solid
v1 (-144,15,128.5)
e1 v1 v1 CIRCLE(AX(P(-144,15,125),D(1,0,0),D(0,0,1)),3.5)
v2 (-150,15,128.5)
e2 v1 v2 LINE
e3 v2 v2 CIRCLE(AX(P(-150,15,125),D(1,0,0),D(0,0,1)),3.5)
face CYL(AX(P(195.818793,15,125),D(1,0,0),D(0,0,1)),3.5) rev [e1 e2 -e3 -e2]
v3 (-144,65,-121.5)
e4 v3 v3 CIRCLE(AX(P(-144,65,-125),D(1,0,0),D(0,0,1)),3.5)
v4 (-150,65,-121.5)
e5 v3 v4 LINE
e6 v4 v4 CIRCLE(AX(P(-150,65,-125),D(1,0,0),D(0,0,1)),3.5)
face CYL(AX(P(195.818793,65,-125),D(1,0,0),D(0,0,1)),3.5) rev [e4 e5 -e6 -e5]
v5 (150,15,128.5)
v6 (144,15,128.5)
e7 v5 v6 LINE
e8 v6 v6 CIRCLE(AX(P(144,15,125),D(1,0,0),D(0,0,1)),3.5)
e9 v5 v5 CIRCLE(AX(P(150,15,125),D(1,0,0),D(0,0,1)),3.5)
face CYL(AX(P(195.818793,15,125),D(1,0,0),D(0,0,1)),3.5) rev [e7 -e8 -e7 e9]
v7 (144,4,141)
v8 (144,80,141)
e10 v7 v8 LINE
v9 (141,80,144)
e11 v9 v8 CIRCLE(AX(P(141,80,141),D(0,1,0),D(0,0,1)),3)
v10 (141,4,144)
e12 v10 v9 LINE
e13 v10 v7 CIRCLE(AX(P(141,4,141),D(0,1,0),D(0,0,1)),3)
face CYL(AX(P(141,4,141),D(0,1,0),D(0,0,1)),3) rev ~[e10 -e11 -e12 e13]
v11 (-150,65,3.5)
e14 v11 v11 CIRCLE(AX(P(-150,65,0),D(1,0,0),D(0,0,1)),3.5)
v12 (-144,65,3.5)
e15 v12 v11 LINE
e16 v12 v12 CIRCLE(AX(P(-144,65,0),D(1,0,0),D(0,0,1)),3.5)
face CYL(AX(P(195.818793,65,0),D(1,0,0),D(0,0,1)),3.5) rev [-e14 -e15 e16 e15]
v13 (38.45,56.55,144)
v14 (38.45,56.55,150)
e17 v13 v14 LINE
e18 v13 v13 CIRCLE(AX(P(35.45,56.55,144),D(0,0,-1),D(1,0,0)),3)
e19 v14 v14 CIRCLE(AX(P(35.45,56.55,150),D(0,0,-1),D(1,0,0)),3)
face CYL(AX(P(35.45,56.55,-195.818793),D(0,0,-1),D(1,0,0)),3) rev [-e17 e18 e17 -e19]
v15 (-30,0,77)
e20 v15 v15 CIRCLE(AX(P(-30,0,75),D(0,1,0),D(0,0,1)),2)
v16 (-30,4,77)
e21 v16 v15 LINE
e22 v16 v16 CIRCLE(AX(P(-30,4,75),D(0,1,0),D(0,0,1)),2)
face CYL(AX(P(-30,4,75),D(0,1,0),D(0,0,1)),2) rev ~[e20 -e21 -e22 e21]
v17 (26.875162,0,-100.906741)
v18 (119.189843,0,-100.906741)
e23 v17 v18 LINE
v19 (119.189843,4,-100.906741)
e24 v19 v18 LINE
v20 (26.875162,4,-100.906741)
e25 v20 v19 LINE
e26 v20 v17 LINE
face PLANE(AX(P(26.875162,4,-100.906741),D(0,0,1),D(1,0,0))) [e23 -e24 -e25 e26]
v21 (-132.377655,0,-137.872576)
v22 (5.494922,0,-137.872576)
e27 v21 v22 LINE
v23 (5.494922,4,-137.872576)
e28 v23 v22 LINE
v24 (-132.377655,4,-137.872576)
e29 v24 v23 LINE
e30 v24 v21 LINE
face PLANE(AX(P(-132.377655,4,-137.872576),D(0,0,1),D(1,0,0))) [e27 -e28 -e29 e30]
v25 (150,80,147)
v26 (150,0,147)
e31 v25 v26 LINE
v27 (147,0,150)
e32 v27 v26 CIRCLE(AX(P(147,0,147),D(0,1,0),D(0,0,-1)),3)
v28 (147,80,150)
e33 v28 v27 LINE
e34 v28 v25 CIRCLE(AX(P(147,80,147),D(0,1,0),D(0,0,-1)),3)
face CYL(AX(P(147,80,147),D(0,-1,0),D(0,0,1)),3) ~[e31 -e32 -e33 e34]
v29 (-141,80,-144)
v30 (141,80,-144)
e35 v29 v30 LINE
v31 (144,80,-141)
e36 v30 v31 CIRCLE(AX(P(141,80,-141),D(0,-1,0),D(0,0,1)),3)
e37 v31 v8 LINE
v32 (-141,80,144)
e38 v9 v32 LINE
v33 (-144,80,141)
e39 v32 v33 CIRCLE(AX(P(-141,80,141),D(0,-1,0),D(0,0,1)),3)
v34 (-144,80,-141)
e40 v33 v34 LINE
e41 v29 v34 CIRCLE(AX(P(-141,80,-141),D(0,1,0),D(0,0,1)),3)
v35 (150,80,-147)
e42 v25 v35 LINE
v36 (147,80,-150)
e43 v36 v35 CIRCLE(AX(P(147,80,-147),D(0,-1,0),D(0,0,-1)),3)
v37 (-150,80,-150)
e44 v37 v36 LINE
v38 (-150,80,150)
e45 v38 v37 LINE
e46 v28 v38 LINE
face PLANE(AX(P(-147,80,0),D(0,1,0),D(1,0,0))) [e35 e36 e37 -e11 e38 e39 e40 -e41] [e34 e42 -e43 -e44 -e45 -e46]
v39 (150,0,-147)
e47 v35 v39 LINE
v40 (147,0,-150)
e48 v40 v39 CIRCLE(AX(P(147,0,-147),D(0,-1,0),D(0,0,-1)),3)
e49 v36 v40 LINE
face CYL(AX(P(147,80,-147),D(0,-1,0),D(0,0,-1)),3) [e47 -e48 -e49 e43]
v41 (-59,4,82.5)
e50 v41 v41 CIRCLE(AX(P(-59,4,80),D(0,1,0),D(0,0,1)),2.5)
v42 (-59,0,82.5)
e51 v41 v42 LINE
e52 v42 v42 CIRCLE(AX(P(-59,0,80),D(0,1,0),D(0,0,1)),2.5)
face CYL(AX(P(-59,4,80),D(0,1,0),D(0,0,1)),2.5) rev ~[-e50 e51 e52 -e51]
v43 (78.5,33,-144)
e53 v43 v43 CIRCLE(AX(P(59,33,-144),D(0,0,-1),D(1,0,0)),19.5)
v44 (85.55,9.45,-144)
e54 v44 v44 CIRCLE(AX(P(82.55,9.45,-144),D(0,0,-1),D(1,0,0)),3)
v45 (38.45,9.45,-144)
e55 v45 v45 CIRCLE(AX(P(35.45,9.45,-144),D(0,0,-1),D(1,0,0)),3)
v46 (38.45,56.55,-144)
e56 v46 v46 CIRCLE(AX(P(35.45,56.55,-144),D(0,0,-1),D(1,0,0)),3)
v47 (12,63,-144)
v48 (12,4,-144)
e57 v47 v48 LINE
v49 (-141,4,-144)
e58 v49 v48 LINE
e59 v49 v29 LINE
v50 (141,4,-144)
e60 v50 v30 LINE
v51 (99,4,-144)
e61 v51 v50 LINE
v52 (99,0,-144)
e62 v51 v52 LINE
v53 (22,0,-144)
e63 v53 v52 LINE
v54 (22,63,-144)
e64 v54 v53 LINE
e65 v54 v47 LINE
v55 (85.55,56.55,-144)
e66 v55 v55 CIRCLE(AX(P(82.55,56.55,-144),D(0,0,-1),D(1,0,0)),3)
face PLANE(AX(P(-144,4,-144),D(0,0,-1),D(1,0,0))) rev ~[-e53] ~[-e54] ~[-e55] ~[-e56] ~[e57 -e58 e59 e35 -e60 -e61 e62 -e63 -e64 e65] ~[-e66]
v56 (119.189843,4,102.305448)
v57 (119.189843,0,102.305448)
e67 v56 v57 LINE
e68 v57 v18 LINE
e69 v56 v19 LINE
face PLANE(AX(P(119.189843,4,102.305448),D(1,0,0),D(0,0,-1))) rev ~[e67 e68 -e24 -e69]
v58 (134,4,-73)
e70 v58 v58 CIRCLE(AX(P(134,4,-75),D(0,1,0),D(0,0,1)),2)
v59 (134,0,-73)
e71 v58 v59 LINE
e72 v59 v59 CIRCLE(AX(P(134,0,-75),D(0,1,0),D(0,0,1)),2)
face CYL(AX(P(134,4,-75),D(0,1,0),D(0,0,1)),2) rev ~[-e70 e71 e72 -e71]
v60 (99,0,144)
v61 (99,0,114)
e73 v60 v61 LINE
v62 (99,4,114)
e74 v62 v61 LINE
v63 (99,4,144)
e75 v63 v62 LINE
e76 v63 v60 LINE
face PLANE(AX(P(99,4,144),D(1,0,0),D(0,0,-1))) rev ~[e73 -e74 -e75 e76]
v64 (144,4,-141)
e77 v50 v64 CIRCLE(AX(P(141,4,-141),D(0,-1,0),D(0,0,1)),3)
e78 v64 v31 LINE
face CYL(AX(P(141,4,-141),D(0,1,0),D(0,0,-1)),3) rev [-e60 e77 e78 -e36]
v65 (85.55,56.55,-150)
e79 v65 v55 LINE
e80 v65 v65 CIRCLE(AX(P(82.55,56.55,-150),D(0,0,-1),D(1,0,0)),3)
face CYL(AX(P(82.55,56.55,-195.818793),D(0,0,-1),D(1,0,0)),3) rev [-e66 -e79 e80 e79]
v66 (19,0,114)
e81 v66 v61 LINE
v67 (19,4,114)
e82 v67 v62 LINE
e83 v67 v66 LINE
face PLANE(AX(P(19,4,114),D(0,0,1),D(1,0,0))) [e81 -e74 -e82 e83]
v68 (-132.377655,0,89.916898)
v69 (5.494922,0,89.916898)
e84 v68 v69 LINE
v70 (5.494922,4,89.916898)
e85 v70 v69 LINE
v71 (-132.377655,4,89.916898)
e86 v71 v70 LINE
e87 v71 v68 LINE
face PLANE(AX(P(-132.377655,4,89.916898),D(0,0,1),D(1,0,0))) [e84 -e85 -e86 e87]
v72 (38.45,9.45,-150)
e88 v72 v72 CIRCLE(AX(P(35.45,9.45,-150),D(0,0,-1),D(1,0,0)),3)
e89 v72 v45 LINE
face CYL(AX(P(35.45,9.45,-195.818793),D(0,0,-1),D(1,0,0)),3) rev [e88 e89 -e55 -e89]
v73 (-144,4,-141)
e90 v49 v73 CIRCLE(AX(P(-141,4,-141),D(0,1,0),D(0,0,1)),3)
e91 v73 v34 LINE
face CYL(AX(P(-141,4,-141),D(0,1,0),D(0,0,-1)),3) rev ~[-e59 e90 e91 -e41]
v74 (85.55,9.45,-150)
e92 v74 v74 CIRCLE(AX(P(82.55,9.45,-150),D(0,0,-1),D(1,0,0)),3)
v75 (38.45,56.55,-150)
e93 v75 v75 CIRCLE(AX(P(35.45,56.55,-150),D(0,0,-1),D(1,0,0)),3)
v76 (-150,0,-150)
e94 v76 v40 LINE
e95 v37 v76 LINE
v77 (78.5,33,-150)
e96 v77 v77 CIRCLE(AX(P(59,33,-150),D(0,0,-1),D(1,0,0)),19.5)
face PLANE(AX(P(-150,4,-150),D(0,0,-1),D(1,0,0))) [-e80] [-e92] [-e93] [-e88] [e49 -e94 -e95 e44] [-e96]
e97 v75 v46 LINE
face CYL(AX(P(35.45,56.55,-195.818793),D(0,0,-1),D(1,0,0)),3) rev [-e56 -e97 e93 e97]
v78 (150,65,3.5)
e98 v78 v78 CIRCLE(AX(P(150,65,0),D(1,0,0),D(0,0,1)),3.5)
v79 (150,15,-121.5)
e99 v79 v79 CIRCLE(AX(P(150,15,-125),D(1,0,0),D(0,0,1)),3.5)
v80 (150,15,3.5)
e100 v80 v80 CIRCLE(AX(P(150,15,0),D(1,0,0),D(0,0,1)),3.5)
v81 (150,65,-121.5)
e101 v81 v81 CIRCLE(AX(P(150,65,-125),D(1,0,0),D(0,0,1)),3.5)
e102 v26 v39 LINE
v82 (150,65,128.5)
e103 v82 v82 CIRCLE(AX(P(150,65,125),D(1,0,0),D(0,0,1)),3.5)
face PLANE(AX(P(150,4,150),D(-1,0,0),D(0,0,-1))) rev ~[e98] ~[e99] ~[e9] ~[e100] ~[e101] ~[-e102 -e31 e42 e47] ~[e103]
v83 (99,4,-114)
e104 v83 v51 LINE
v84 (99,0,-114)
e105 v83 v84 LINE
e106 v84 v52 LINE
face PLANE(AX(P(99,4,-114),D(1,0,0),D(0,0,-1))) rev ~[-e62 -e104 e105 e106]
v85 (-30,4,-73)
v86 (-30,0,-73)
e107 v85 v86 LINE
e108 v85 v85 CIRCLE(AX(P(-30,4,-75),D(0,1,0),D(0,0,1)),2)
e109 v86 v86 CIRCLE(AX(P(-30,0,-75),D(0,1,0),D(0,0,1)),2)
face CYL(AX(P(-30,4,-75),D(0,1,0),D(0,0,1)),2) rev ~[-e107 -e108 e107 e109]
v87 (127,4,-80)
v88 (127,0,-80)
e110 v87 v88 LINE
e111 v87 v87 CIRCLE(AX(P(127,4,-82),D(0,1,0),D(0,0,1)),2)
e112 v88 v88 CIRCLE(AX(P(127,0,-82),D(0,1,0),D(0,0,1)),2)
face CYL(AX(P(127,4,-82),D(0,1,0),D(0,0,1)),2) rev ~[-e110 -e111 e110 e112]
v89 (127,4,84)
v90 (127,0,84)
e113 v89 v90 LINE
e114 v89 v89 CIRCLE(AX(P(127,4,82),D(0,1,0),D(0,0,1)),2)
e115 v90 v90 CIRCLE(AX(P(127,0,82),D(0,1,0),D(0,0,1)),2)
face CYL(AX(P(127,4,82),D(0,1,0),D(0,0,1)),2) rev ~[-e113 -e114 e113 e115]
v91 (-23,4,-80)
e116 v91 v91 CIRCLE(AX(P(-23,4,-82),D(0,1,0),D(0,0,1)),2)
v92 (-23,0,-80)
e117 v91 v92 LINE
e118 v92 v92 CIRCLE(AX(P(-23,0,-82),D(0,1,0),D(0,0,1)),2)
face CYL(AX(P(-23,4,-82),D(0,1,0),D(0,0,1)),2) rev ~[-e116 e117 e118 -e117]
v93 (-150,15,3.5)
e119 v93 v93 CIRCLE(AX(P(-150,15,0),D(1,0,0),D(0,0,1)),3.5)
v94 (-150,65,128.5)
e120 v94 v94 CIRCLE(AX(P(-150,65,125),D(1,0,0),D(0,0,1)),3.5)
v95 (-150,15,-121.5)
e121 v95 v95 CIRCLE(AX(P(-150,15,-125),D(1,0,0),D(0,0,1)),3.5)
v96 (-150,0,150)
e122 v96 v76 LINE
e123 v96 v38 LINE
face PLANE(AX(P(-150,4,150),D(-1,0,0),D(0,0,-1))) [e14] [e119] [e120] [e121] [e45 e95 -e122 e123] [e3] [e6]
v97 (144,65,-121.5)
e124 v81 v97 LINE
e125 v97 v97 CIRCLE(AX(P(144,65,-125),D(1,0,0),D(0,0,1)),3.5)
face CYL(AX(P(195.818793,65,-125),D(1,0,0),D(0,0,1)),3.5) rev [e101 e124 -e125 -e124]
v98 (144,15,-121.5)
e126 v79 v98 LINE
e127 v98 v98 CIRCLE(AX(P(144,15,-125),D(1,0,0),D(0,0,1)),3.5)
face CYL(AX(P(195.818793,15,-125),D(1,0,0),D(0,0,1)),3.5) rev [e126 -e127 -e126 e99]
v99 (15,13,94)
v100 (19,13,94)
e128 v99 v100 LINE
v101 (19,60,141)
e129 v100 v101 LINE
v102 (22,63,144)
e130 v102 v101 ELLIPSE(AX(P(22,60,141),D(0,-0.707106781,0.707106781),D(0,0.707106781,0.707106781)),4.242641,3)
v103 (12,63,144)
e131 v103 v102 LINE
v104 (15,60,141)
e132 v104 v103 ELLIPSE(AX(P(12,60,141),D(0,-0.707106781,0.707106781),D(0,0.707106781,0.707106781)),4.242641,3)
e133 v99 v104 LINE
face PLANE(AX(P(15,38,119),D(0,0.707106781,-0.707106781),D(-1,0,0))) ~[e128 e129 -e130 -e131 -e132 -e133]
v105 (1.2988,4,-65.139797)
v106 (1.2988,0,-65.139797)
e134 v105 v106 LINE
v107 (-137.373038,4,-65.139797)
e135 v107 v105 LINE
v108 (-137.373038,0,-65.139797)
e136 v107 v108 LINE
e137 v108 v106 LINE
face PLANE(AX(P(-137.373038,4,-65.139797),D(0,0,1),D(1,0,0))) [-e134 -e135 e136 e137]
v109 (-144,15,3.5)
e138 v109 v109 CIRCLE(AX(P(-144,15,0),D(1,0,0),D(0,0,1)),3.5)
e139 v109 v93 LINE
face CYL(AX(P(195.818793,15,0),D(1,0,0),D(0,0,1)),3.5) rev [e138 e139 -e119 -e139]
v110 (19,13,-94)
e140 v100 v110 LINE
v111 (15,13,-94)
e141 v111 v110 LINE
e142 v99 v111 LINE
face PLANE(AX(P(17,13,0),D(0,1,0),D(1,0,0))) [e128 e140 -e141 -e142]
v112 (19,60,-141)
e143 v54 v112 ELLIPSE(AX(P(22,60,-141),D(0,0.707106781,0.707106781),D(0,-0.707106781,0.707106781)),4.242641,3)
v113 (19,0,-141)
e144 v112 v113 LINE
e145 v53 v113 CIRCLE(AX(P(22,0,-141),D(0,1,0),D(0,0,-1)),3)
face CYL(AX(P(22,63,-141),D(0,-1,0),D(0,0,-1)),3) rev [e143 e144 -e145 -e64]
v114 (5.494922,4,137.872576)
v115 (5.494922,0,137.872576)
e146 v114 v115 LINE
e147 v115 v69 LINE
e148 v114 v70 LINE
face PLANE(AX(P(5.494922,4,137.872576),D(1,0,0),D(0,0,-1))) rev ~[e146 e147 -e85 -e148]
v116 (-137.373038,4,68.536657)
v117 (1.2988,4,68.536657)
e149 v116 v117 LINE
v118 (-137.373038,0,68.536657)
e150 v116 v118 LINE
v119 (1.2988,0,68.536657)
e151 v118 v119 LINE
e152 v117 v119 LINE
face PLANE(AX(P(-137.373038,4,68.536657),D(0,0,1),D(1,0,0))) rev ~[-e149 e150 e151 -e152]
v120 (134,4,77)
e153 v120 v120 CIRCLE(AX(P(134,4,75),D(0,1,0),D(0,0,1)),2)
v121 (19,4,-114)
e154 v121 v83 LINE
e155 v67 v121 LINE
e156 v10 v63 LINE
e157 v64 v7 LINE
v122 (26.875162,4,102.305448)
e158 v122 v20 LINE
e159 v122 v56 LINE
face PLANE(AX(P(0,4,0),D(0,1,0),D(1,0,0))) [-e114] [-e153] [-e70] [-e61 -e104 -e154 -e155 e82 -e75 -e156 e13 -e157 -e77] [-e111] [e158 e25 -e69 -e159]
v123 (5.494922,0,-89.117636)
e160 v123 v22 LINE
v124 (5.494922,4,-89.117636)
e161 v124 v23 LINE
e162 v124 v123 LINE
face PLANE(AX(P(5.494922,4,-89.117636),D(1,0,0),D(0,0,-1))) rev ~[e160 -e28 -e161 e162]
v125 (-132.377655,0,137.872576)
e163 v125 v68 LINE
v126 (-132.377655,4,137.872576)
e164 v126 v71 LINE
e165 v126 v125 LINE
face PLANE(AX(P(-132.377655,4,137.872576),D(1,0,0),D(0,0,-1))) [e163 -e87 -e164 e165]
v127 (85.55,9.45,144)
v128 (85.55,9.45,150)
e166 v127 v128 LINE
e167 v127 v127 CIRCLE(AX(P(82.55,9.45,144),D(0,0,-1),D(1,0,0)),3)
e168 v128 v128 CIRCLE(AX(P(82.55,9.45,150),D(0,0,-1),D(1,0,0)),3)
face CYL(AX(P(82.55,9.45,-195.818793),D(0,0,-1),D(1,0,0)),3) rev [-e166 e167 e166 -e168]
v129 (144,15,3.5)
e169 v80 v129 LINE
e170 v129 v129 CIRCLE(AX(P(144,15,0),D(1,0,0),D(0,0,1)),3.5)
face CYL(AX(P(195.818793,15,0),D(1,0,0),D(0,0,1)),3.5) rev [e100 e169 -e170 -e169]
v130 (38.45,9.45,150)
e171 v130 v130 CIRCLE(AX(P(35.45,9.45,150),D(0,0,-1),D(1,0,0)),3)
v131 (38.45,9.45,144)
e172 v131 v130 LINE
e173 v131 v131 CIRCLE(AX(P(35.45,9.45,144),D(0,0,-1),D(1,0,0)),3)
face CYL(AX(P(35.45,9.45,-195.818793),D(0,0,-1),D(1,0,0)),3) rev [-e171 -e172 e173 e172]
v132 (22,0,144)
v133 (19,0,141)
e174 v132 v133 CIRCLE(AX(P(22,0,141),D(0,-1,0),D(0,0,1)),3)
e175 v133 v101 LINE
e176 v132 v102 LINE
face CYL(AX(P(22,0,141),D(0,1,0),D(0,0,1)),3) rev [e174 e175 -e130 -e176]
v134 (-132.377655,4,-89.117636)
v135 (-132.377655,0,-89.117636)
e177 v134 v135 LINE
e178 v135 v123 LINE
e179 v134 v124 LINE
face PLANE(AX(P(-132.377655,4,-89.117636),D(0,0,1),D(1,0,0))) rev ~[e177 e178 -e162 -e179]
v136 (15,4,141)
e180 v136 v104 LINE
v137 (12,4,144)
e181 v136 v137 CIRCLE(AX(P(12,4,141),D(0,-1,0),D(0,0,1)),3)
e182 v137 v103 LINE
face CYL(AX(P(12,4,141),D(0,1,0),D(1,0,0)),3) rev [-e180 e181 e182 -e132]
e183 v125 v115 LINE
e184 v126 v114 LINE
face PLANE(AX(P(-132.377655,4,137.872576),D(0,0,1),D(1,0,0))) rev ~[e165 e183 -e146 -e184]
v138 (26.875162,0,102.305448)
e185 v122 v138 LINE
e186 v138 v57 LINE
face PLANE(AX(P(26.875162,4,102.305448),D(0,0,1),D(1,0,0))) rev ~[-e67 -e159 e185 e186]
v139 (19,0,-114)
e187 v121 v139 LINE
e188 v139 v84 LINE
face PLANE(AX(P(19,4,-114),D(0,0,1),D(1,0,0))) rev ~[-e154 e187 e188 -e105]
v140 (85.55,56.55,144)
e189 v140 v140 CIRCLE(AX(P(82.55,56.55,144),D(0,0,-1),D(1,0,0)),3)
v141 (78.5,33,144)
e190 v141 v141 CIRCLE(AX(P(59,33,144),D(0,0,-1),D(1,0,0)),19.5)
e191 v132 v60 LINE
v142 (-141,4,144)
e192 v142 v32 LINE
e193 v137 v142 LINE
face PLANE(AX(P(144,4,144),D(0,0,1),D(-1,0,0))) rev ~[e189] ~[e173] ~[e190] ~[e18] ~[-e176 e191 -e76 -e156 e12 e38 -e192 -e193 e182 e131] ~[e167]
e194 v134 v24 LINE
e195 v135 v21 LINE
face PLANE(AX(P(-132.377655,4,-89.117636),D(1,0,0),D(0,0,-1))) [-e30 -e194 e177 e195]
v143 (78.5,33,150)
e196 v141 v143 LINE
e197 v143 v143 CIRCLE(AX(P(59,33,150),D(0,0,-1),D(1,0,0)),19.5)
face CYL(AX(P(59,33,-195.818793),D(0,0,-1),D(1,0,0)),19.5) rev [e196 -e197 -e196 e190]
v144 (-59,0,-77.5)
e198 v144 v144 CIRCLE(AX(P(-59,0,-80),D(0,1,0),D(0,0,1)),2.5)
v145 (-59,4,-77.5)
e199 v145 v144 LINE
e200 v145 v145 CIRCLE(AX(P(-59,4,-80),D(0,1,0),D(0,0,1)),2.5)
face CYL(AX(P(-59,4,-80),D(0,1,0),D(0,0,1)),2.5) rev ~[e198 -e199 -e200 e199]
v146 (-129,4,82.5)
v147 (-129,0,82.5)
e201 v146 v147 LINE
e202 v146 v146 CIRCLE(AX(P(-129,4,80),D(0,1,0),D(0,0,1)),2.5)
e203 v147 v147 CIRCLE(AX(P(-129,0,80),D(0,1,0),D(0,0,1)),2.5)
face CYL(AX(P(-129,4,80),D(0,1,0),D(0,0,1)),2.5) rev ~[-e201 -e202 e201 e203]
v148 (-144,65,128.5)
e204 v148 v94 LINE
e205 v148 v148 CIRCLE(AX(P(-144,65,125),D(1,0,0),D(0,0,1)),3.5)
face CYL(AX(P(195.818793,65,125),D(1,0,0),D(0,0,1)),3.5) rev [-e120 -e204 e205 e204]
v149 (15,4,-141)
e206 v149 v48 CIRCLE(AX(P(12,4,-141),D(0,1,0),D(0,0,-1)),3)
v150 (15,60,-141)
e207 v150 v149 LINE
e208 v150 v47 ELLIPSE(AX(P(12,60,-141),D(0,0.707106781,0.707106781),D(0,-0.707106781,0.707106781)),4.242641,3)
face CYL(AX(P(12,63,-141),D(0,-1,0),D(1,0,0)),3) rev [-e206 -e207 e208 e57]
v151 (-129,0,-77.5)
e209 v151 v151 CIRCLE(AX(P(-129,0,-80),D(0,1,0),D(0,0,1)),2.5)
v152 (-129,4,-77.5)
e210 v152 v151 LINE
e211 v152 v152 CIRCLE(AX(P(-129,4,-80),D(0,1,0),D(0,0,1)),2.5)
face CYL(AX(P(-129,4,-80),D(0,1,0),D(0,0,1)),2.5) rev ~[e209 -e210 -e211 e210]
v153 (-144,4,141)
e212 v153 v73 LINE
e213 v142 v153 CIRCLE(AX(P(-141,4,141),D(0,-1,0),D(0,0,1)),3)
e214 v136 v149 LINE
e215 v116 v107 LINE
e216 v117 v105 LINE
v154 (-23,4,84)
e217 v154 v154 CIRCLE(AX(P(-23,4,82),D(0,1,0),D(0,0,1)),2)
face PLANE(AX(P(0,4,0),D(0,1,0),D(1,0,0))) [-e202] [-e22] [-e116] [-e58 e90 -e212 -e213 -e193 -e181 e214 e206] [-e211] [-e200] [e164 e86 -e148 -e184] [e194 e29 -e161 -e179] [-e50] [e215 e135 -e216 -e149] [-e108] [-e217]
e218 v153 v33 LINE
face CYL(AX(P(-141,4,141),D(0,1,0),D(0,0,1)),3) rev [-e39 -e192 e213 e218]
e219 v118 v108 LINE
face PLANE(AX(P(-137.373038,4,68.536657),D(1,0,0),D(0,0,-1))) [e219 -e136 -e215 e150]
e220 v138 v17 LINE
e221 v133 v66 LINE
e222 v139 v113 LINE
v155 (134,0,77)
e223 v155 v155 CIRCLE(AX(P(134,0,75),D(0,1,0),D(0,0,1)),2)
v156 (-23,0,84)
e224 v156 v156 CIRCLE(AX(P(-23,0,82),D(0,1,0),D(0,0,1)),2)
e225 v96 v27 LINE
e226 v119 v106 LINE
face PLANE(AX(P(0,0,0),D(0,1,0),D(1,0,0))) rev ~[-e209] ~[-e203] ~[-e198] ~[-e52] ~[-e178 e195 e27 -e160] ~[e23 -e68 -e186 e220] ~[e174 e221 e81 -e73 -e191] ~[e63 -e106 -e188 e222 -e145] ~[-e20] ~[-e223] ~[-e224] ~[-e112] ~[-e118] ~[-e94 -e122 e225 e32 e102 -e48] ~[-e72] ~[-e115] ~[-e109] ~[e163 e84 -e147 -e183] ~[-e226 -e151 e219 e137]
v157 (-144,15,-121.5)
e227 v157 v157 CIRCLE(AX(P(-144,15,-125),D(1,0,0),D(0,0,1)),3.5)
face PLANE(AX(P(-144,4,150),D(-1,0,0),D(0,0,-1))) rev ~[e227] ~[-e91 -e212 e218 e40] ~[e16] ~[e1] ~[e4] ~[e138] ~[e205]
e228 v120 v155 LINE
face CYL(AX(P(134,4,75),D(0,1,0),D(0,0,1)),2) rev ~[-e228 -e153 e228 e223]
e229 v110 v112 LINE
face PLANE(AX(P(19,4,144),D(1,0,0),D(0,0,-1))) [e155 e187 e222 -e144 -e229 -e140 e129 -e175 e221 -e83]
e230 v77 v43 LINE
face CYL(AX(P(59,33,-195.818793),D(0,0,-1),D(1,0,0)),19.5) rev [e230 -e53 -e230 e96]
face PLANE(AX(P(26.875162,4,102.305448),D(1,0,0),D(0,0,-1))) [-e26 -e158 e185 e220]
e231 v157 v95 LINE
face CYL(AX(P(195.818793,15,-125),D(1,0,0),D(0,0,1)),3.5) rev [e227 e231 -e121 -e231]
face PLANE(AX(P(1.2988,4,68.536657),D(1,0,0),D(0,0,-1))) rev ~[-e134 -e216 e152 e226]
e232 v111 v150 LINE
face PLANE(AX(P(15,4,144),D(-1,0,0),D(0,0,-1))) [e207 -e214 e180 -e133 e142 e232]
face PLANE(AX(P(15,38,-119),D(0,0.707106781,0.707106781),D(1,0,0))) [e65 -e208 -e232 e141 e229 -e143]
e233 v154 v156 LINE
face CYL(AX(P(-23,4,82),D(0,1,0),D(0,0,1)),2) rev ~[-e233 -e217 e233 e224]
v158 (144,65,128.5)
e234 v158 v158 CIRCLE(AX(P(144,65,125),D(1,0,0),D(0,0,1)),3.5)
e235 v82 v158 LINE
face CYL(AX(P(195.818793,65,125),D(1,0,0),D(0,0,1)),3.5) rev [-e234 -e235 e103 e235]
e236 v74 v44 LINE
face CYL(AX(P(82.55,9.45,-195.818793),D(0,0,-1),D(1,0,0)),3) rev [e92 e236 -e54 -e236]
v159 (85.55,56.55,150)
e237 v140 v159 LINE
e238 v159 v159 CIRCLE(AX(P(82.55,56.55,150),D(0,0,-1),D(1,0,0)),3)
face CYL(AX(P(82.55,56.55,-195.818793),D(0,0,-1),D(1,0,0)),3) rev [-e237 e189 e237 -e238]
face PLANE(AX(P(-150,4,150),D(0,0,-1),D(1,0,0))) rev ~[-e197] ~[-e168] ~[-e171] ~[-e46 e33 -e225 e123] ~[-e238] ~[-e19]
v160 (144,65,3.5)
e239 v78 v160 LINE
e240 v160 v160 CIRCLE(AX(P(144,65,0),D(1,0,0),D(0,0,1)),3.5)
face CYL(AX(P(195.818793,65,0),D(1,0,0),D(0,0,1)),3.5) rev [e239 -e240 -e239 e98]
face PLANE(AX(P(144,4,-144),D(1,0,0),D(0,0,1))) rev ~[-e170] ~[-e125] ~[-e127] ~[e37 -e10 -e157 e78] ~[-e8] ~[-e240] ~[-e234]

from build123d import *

# Parameters (mm, degrees)
SKETCH_1_W                = 300
SKETCH_1_H                = 300
EXTRUDE_1_DEPTH           = 4
EXTRUDE_2_DEPTH           = 76
FILLET_1_R                = 3
CUT_EXTRUDE_1_DEPTH       = 345.818792991
CUT_EXTRUDE_1_DEPTH_BACK  = 345.818792991
SKETCH_3_R                = 3
SKETCH_3_R_2              = 19.5
SKETCH_4_W                = 6
SKETCH_4_H                = 300
EXTRUDE_3_DEPTH           = 76
SKETCH_7_R                = 2
CUT_EXTRUDE_3_DEPTH       = 10
SKETCH_14_W               = 80
SKETCH_14_H               = 30
CUT_EXTRUDE_9_DEPTH       = 20
CUT_EXTRUDE_10_DEPTH      = 345.818792991
CUT_EXTRUDE_10_DEPTH_BACK = 345.818792991
SKETCH_15_R               = 3.5
SKETCH_16_W               = 4
SKETCH_16_H               = 288
EXTRUDE_5_DEPTH           = 9
CHAMFER_3_SIZE            = 50
SKETCH_17_R               = 2.25
SKETCH_17_R_2             = 2.5
CUT_EXTRUDE_11_DEPTH      = 6
SKETCH_18_W               = 137.872576177
SKETCH_18_H               = 47.95567867
SKETCH_18_W_2             = 92.314681441
SKETCH_18_H_2             = 203.212188366
SKETCH_18_W_3             = 138.671837489
SKETCH_18_H_3             = 133.676454294
SKETCH_18_H_4             = 48.754939981
CUT_EXTRUDE_12_DEPTH      = 6
FILLET_4_R                = 3


with BuildPart() as part:
    # Эскиз1 → Бобышка-Вытянуть1 (new body)
    with BuildSketch(Plane(origin=(0, 0, 0), x_dir=(1, 0, 0), z_dir=(0, 1, 0))):
        Rectangle(SKETCH_1_W, SKETCH_1_H)
    extrude(amount=EXTRUDE_1_DEPTH)

    # Эскиз2 → Бобышка-Вытянуть2 (add)
    with BuildSketch(Plane(origin=(0, 4, 0), x_dir=(1, 0, 0), z_dir=(0, 1, 0))):
        Polygon((150, 150), (-144, 150), (-144, 144), (144, 144), (144, -144), (-144, -144), (-144, -150), (150, -150), (150, 0.239524614), align=None)
    extrude(amount=EXTRUDE_2_DEPTH)

    # Скругление1
    fillet_1_edges = [part.edges().sort_by_distance(p)[0] for p in [
        (150, 40, 150),
        (150, 40, -150),
    ]]
    fillet(fillet_1_edges, radius=FILLET_1_R)

    # Эскиз3 → Вырез-Вытянуть1 (cut, two sides: drawn at the far end of the back side and taken through both)
    with BuildSketch(Plane.XY.offset(150).offset(-CUT_EXTRUDE_1_DEPTH_BACK)):
        with Locations((35.45, 56.55)):
            Circle(SKETCH_3_R)
        with Locations((82.55, 56.55)):
            Circle(SKETCH_3_R)
        with Locations((35.45, 9.45)):
            Circle(SKETCH_3_R)
        with Locations((82.55, 9.45)):
            Circle(SKETCH_3_R)
        with Locations((59, 33)):
            Circle(SKETCH_3_R_2)
    extrude(amount=CUT_EXTRUDE_1_DEPTH + CUT_EXTRUDE_1_DEPTH_BACK, mode=Mode.SUBTRACT)

    # Эскиз4 → Бобышка-Вытянуть3 (add)
    with BuildSketch(Plane(origin=(0, 4, 0), x_dir=(1, 0, 0), z_dir=(0, 1, 0))):
        with Locations((-147, 0)):
            Rectangle(SKETCH_4_W, SKETCH_4_H)
    extrude(amount=EXTRUDE_3_DEPTH)

    # Эскиз7 → Вырез-Вытянуть3 (cut)
    with BuildSketch(Plane(origin=(0, 4, 0), x_dir=(1, 0, 0), z_dir=(0, 1, 0))):
        with Locations(Location((127, 82, 0), (0, 0, 270))):
            Circle(SKETCH_7_R)
        with Locations(Location((134, 75, 0), (0, 0, 270))):
            Circle(SKETCH_7_R)
        with Locations(Location((-23, 82, 0), (0, 0, 270))):
            Circle(SKETCH_7_R)
        with Locations(Location((-30, 75, 0), (0, 0, 270))):
            Circle(SKETCH_7_R)
        with Locations(Location((127, -82, 0), (0, 0, 270))):
            Circle(SKETCH_7_R)
        with Locations(Location((134, -75, 0), (0, 0, 270))):
            Circle(SKETCH_7_R)
        with Locations(Location((-30, -75, 0), (0, 0, 270))):
            Circle(SKETCH_7_R)
        with Locations(Location((-23, -82, 0), (0, 0, 270))):
            Circle(SKETCH_7_R)
    extrude(amount=-CUT_EXTRUDE_3_DEPTH, mode=Mode.SUBTRACT)

    # Эскиз14 → Вырез-Вытянуть9 (cut)
    with BuildSketch(Plane(origin=(0, 4, 0), x_dir=(1, 0, 0), z_dir=(0, 1, 0))):
        with Locations((59, 129)):
            Rectangle(SKETCH_14_W, SKETCH_14_H)
        with Locations((59, -129)):
            Rectangle(SKETCH_14_W, SKETCH_14_H)
    extrude(amount=-CUT_EXTRUDE_9_DEPTH, mode=Mode.SUBTRACT)

    # Эскиз15 → Вырез-Вытянуть10 (cut, two sides: drawn at the far end of the back side and taken through both)
    with BuildSketch(Plane.ZY.offset(150).offset(-CUT_EXTRUDE_10_DEPTH_BACK)):
        with Locations((0, 65)):
            Circle(SKETCH_15_R)
        with Locations((125, 65)):
            Circle(SKETCH_15_R)
        with Locations((-125, 65)):
            Circle(SKETCH_15_R)
        with Locations((-125, 15)):
            Circle(SKETCH_15_R)
        with Locations((125, 15)):
            Circle(SKETCH_15_R)
        with Locations((0, 15)):
            Circle(SKETCH_15_R)
    extrude(amount=CUT_EXTRUDE_10_DEPTH + CUT_EXTRUDE_10_DEPTH_BACK, mode=Mode.SUBTRACT)

    # Эскиз16 → Бобышка-Вытянуть5 (add)
    with BuildSketch(Plane(origin=(0, 4, 0), x_dir=(1, 0, 0), z_dir=(0, 1, 0))):
        with Locations((17, 0)):
            Rectangle(SKETCH_16_W, SKETCH_16_H)
    extrude(amount=EXTRUDE_5_DEPTH)

    # Фаска3
    chamfer_3_edges = [part.edges().sort_by_distance(p)[0] for p in [
        (17, 13, -144),
        (17, 13, 144),
    ]]
    chamfer(chamfer_3_edges, length=CHAMFER_3_SIZE)

    # Эскиз17 → Вырез-Вытянуть11 (cut)
    with BuildSketch(Plane(origin=(0, 4, 0), x_dir=(1, 0, 0), z_dir=(0, 1, 0))):
        with Locations(Location((0, 134, 0), (0, 0, 270))):
            Circle(SKETCH_17_R)
        with Locations(Location((0, 104, 0), (0, 0, 270))):
            Circle(SKETCH_17_R)
        with Locations(Location((-64, 134, 0), (0, 0, 270))):
            Circle(SKETCH_17_R)
        with Locations(Location((-64, 104, 0), (0, 0, 270))):
            Circle(SKETCH_17_R)
        with Locations(Location((-128, 134, 0), (0, 0, 270))):
            Circle(SKETCH_17_R)
        with Locations(Location((-128, 104, 0), (0, 0, 270))):
            Circle(SKETCH_17_R)
        with Locations(Location((-128, -104, 0), (0, 0, 90))):
            Circle(SKETCH_17_R)
        with Locations(Location((-128, -134, 0), (0, 0, 90))):
            Circle(SKETCH_17_R)
        with Locations(Location((-64, -104, 0), (0, 0, 90))):
            Circle(SKETCH_17_R)
        with Locations(Location((-64, -134, 0), (0, 0, 90))):
            Circle(SKETCH_17_R)
        with Locations(Location((0, -104, 0), (0, 0, 90))):
            Circle(SKETCH_17_R)
        with Locations(Location((0, -134, 0), (0, 0, 90))):
            Circle(SKETCH_17_R)
        with Locations(Location((-129, 0, 0), (0, 0, 270))):
            Circle(SKETCH_17_R_2)
        with Locations(Location((-59, 0, 0), (0, 0, 270))):
            Circle(SKETCH_17_R_2)
        with Locations(Location((-59, 40, 0), (0, 0, 270))):
            Circle(SKETCH_17_R_2)
        with Locations(Location((-129, 40, 0), (0, 0, 270))):
            Circle(SKETCH_17_R_2)
        with Locations(Location((-59, 80, 0), (0, 0, 270))):
            Circle(SKETCH_17_R_2)
        with Locations(Location((-129, 80, 0), (0, 0, 270))):
            Circle(SKETCH_17_R_2)
        with Locations(Location((-59, -40, 0), (0, 0, 270))):
            Circle(SKETCH_17_R_2)
        with Locations(Location((-129, -40, 0), (0, 0, 270))):
            Circle(SKETCH_17_R_2)
        with Locations(Location((-59, -80, 0), (0, 0, 270))):
            Circle(SKETCH_17_R_2)
        with Locations(Location((-129, -80, 0), (0, 0, 270))):
            Circle(SKETCH_17_R_2)
    extrude(amount=-CUT_EXTRUDE_11_DEPTH, mode=Mode.SUBTRACT)

    # Эскиз18 → Вырез-Вытянуть12 (cut)
    with BuildSketch(Plane(origin=(0, 4, 0), x_dir=(1, 0, 0), z_dir=(0, 1, 0))):
        with Locations((-63.441366575, -113.894736842)):
            Rectangle(SKETCH_18_W, SKETCH_18_H)
        with Locations((73.032502308, -0.699353647)):
            Rectangle(SKETCH_18_W_2, SKETCH_18_H_2)
        with Locations((-68.037119113, -1.698430286)):
            Rectangle(SKETCH_18_W_3, SKETCH_18_H_3)
        with Locations((-63.441366575, 113.495106187)):
            Rectangle(SKETCH_18_W, SKETCH_18_H_4)
    extrude(amount=-CUT_EXTRUDE_12_DEPTH, mode=Mode.SUBTRACT)

    # Скругление4
    fillet_4_edges = [part.edges().sort_by_distance(p)[0] for p in [
        (-144, 42, -144),
        (19, 31.5, -144),
        (144, 42, -144),
        (144, 42, 144),
        (19, 31.5, 144),
        (-144, 42, 144),
        (15, 33.5, -144),
        (15, 33.5, 144),
    ]]
    fillet(fillet_4_edges, radius=FILLET_4_R)


solid = part.part
